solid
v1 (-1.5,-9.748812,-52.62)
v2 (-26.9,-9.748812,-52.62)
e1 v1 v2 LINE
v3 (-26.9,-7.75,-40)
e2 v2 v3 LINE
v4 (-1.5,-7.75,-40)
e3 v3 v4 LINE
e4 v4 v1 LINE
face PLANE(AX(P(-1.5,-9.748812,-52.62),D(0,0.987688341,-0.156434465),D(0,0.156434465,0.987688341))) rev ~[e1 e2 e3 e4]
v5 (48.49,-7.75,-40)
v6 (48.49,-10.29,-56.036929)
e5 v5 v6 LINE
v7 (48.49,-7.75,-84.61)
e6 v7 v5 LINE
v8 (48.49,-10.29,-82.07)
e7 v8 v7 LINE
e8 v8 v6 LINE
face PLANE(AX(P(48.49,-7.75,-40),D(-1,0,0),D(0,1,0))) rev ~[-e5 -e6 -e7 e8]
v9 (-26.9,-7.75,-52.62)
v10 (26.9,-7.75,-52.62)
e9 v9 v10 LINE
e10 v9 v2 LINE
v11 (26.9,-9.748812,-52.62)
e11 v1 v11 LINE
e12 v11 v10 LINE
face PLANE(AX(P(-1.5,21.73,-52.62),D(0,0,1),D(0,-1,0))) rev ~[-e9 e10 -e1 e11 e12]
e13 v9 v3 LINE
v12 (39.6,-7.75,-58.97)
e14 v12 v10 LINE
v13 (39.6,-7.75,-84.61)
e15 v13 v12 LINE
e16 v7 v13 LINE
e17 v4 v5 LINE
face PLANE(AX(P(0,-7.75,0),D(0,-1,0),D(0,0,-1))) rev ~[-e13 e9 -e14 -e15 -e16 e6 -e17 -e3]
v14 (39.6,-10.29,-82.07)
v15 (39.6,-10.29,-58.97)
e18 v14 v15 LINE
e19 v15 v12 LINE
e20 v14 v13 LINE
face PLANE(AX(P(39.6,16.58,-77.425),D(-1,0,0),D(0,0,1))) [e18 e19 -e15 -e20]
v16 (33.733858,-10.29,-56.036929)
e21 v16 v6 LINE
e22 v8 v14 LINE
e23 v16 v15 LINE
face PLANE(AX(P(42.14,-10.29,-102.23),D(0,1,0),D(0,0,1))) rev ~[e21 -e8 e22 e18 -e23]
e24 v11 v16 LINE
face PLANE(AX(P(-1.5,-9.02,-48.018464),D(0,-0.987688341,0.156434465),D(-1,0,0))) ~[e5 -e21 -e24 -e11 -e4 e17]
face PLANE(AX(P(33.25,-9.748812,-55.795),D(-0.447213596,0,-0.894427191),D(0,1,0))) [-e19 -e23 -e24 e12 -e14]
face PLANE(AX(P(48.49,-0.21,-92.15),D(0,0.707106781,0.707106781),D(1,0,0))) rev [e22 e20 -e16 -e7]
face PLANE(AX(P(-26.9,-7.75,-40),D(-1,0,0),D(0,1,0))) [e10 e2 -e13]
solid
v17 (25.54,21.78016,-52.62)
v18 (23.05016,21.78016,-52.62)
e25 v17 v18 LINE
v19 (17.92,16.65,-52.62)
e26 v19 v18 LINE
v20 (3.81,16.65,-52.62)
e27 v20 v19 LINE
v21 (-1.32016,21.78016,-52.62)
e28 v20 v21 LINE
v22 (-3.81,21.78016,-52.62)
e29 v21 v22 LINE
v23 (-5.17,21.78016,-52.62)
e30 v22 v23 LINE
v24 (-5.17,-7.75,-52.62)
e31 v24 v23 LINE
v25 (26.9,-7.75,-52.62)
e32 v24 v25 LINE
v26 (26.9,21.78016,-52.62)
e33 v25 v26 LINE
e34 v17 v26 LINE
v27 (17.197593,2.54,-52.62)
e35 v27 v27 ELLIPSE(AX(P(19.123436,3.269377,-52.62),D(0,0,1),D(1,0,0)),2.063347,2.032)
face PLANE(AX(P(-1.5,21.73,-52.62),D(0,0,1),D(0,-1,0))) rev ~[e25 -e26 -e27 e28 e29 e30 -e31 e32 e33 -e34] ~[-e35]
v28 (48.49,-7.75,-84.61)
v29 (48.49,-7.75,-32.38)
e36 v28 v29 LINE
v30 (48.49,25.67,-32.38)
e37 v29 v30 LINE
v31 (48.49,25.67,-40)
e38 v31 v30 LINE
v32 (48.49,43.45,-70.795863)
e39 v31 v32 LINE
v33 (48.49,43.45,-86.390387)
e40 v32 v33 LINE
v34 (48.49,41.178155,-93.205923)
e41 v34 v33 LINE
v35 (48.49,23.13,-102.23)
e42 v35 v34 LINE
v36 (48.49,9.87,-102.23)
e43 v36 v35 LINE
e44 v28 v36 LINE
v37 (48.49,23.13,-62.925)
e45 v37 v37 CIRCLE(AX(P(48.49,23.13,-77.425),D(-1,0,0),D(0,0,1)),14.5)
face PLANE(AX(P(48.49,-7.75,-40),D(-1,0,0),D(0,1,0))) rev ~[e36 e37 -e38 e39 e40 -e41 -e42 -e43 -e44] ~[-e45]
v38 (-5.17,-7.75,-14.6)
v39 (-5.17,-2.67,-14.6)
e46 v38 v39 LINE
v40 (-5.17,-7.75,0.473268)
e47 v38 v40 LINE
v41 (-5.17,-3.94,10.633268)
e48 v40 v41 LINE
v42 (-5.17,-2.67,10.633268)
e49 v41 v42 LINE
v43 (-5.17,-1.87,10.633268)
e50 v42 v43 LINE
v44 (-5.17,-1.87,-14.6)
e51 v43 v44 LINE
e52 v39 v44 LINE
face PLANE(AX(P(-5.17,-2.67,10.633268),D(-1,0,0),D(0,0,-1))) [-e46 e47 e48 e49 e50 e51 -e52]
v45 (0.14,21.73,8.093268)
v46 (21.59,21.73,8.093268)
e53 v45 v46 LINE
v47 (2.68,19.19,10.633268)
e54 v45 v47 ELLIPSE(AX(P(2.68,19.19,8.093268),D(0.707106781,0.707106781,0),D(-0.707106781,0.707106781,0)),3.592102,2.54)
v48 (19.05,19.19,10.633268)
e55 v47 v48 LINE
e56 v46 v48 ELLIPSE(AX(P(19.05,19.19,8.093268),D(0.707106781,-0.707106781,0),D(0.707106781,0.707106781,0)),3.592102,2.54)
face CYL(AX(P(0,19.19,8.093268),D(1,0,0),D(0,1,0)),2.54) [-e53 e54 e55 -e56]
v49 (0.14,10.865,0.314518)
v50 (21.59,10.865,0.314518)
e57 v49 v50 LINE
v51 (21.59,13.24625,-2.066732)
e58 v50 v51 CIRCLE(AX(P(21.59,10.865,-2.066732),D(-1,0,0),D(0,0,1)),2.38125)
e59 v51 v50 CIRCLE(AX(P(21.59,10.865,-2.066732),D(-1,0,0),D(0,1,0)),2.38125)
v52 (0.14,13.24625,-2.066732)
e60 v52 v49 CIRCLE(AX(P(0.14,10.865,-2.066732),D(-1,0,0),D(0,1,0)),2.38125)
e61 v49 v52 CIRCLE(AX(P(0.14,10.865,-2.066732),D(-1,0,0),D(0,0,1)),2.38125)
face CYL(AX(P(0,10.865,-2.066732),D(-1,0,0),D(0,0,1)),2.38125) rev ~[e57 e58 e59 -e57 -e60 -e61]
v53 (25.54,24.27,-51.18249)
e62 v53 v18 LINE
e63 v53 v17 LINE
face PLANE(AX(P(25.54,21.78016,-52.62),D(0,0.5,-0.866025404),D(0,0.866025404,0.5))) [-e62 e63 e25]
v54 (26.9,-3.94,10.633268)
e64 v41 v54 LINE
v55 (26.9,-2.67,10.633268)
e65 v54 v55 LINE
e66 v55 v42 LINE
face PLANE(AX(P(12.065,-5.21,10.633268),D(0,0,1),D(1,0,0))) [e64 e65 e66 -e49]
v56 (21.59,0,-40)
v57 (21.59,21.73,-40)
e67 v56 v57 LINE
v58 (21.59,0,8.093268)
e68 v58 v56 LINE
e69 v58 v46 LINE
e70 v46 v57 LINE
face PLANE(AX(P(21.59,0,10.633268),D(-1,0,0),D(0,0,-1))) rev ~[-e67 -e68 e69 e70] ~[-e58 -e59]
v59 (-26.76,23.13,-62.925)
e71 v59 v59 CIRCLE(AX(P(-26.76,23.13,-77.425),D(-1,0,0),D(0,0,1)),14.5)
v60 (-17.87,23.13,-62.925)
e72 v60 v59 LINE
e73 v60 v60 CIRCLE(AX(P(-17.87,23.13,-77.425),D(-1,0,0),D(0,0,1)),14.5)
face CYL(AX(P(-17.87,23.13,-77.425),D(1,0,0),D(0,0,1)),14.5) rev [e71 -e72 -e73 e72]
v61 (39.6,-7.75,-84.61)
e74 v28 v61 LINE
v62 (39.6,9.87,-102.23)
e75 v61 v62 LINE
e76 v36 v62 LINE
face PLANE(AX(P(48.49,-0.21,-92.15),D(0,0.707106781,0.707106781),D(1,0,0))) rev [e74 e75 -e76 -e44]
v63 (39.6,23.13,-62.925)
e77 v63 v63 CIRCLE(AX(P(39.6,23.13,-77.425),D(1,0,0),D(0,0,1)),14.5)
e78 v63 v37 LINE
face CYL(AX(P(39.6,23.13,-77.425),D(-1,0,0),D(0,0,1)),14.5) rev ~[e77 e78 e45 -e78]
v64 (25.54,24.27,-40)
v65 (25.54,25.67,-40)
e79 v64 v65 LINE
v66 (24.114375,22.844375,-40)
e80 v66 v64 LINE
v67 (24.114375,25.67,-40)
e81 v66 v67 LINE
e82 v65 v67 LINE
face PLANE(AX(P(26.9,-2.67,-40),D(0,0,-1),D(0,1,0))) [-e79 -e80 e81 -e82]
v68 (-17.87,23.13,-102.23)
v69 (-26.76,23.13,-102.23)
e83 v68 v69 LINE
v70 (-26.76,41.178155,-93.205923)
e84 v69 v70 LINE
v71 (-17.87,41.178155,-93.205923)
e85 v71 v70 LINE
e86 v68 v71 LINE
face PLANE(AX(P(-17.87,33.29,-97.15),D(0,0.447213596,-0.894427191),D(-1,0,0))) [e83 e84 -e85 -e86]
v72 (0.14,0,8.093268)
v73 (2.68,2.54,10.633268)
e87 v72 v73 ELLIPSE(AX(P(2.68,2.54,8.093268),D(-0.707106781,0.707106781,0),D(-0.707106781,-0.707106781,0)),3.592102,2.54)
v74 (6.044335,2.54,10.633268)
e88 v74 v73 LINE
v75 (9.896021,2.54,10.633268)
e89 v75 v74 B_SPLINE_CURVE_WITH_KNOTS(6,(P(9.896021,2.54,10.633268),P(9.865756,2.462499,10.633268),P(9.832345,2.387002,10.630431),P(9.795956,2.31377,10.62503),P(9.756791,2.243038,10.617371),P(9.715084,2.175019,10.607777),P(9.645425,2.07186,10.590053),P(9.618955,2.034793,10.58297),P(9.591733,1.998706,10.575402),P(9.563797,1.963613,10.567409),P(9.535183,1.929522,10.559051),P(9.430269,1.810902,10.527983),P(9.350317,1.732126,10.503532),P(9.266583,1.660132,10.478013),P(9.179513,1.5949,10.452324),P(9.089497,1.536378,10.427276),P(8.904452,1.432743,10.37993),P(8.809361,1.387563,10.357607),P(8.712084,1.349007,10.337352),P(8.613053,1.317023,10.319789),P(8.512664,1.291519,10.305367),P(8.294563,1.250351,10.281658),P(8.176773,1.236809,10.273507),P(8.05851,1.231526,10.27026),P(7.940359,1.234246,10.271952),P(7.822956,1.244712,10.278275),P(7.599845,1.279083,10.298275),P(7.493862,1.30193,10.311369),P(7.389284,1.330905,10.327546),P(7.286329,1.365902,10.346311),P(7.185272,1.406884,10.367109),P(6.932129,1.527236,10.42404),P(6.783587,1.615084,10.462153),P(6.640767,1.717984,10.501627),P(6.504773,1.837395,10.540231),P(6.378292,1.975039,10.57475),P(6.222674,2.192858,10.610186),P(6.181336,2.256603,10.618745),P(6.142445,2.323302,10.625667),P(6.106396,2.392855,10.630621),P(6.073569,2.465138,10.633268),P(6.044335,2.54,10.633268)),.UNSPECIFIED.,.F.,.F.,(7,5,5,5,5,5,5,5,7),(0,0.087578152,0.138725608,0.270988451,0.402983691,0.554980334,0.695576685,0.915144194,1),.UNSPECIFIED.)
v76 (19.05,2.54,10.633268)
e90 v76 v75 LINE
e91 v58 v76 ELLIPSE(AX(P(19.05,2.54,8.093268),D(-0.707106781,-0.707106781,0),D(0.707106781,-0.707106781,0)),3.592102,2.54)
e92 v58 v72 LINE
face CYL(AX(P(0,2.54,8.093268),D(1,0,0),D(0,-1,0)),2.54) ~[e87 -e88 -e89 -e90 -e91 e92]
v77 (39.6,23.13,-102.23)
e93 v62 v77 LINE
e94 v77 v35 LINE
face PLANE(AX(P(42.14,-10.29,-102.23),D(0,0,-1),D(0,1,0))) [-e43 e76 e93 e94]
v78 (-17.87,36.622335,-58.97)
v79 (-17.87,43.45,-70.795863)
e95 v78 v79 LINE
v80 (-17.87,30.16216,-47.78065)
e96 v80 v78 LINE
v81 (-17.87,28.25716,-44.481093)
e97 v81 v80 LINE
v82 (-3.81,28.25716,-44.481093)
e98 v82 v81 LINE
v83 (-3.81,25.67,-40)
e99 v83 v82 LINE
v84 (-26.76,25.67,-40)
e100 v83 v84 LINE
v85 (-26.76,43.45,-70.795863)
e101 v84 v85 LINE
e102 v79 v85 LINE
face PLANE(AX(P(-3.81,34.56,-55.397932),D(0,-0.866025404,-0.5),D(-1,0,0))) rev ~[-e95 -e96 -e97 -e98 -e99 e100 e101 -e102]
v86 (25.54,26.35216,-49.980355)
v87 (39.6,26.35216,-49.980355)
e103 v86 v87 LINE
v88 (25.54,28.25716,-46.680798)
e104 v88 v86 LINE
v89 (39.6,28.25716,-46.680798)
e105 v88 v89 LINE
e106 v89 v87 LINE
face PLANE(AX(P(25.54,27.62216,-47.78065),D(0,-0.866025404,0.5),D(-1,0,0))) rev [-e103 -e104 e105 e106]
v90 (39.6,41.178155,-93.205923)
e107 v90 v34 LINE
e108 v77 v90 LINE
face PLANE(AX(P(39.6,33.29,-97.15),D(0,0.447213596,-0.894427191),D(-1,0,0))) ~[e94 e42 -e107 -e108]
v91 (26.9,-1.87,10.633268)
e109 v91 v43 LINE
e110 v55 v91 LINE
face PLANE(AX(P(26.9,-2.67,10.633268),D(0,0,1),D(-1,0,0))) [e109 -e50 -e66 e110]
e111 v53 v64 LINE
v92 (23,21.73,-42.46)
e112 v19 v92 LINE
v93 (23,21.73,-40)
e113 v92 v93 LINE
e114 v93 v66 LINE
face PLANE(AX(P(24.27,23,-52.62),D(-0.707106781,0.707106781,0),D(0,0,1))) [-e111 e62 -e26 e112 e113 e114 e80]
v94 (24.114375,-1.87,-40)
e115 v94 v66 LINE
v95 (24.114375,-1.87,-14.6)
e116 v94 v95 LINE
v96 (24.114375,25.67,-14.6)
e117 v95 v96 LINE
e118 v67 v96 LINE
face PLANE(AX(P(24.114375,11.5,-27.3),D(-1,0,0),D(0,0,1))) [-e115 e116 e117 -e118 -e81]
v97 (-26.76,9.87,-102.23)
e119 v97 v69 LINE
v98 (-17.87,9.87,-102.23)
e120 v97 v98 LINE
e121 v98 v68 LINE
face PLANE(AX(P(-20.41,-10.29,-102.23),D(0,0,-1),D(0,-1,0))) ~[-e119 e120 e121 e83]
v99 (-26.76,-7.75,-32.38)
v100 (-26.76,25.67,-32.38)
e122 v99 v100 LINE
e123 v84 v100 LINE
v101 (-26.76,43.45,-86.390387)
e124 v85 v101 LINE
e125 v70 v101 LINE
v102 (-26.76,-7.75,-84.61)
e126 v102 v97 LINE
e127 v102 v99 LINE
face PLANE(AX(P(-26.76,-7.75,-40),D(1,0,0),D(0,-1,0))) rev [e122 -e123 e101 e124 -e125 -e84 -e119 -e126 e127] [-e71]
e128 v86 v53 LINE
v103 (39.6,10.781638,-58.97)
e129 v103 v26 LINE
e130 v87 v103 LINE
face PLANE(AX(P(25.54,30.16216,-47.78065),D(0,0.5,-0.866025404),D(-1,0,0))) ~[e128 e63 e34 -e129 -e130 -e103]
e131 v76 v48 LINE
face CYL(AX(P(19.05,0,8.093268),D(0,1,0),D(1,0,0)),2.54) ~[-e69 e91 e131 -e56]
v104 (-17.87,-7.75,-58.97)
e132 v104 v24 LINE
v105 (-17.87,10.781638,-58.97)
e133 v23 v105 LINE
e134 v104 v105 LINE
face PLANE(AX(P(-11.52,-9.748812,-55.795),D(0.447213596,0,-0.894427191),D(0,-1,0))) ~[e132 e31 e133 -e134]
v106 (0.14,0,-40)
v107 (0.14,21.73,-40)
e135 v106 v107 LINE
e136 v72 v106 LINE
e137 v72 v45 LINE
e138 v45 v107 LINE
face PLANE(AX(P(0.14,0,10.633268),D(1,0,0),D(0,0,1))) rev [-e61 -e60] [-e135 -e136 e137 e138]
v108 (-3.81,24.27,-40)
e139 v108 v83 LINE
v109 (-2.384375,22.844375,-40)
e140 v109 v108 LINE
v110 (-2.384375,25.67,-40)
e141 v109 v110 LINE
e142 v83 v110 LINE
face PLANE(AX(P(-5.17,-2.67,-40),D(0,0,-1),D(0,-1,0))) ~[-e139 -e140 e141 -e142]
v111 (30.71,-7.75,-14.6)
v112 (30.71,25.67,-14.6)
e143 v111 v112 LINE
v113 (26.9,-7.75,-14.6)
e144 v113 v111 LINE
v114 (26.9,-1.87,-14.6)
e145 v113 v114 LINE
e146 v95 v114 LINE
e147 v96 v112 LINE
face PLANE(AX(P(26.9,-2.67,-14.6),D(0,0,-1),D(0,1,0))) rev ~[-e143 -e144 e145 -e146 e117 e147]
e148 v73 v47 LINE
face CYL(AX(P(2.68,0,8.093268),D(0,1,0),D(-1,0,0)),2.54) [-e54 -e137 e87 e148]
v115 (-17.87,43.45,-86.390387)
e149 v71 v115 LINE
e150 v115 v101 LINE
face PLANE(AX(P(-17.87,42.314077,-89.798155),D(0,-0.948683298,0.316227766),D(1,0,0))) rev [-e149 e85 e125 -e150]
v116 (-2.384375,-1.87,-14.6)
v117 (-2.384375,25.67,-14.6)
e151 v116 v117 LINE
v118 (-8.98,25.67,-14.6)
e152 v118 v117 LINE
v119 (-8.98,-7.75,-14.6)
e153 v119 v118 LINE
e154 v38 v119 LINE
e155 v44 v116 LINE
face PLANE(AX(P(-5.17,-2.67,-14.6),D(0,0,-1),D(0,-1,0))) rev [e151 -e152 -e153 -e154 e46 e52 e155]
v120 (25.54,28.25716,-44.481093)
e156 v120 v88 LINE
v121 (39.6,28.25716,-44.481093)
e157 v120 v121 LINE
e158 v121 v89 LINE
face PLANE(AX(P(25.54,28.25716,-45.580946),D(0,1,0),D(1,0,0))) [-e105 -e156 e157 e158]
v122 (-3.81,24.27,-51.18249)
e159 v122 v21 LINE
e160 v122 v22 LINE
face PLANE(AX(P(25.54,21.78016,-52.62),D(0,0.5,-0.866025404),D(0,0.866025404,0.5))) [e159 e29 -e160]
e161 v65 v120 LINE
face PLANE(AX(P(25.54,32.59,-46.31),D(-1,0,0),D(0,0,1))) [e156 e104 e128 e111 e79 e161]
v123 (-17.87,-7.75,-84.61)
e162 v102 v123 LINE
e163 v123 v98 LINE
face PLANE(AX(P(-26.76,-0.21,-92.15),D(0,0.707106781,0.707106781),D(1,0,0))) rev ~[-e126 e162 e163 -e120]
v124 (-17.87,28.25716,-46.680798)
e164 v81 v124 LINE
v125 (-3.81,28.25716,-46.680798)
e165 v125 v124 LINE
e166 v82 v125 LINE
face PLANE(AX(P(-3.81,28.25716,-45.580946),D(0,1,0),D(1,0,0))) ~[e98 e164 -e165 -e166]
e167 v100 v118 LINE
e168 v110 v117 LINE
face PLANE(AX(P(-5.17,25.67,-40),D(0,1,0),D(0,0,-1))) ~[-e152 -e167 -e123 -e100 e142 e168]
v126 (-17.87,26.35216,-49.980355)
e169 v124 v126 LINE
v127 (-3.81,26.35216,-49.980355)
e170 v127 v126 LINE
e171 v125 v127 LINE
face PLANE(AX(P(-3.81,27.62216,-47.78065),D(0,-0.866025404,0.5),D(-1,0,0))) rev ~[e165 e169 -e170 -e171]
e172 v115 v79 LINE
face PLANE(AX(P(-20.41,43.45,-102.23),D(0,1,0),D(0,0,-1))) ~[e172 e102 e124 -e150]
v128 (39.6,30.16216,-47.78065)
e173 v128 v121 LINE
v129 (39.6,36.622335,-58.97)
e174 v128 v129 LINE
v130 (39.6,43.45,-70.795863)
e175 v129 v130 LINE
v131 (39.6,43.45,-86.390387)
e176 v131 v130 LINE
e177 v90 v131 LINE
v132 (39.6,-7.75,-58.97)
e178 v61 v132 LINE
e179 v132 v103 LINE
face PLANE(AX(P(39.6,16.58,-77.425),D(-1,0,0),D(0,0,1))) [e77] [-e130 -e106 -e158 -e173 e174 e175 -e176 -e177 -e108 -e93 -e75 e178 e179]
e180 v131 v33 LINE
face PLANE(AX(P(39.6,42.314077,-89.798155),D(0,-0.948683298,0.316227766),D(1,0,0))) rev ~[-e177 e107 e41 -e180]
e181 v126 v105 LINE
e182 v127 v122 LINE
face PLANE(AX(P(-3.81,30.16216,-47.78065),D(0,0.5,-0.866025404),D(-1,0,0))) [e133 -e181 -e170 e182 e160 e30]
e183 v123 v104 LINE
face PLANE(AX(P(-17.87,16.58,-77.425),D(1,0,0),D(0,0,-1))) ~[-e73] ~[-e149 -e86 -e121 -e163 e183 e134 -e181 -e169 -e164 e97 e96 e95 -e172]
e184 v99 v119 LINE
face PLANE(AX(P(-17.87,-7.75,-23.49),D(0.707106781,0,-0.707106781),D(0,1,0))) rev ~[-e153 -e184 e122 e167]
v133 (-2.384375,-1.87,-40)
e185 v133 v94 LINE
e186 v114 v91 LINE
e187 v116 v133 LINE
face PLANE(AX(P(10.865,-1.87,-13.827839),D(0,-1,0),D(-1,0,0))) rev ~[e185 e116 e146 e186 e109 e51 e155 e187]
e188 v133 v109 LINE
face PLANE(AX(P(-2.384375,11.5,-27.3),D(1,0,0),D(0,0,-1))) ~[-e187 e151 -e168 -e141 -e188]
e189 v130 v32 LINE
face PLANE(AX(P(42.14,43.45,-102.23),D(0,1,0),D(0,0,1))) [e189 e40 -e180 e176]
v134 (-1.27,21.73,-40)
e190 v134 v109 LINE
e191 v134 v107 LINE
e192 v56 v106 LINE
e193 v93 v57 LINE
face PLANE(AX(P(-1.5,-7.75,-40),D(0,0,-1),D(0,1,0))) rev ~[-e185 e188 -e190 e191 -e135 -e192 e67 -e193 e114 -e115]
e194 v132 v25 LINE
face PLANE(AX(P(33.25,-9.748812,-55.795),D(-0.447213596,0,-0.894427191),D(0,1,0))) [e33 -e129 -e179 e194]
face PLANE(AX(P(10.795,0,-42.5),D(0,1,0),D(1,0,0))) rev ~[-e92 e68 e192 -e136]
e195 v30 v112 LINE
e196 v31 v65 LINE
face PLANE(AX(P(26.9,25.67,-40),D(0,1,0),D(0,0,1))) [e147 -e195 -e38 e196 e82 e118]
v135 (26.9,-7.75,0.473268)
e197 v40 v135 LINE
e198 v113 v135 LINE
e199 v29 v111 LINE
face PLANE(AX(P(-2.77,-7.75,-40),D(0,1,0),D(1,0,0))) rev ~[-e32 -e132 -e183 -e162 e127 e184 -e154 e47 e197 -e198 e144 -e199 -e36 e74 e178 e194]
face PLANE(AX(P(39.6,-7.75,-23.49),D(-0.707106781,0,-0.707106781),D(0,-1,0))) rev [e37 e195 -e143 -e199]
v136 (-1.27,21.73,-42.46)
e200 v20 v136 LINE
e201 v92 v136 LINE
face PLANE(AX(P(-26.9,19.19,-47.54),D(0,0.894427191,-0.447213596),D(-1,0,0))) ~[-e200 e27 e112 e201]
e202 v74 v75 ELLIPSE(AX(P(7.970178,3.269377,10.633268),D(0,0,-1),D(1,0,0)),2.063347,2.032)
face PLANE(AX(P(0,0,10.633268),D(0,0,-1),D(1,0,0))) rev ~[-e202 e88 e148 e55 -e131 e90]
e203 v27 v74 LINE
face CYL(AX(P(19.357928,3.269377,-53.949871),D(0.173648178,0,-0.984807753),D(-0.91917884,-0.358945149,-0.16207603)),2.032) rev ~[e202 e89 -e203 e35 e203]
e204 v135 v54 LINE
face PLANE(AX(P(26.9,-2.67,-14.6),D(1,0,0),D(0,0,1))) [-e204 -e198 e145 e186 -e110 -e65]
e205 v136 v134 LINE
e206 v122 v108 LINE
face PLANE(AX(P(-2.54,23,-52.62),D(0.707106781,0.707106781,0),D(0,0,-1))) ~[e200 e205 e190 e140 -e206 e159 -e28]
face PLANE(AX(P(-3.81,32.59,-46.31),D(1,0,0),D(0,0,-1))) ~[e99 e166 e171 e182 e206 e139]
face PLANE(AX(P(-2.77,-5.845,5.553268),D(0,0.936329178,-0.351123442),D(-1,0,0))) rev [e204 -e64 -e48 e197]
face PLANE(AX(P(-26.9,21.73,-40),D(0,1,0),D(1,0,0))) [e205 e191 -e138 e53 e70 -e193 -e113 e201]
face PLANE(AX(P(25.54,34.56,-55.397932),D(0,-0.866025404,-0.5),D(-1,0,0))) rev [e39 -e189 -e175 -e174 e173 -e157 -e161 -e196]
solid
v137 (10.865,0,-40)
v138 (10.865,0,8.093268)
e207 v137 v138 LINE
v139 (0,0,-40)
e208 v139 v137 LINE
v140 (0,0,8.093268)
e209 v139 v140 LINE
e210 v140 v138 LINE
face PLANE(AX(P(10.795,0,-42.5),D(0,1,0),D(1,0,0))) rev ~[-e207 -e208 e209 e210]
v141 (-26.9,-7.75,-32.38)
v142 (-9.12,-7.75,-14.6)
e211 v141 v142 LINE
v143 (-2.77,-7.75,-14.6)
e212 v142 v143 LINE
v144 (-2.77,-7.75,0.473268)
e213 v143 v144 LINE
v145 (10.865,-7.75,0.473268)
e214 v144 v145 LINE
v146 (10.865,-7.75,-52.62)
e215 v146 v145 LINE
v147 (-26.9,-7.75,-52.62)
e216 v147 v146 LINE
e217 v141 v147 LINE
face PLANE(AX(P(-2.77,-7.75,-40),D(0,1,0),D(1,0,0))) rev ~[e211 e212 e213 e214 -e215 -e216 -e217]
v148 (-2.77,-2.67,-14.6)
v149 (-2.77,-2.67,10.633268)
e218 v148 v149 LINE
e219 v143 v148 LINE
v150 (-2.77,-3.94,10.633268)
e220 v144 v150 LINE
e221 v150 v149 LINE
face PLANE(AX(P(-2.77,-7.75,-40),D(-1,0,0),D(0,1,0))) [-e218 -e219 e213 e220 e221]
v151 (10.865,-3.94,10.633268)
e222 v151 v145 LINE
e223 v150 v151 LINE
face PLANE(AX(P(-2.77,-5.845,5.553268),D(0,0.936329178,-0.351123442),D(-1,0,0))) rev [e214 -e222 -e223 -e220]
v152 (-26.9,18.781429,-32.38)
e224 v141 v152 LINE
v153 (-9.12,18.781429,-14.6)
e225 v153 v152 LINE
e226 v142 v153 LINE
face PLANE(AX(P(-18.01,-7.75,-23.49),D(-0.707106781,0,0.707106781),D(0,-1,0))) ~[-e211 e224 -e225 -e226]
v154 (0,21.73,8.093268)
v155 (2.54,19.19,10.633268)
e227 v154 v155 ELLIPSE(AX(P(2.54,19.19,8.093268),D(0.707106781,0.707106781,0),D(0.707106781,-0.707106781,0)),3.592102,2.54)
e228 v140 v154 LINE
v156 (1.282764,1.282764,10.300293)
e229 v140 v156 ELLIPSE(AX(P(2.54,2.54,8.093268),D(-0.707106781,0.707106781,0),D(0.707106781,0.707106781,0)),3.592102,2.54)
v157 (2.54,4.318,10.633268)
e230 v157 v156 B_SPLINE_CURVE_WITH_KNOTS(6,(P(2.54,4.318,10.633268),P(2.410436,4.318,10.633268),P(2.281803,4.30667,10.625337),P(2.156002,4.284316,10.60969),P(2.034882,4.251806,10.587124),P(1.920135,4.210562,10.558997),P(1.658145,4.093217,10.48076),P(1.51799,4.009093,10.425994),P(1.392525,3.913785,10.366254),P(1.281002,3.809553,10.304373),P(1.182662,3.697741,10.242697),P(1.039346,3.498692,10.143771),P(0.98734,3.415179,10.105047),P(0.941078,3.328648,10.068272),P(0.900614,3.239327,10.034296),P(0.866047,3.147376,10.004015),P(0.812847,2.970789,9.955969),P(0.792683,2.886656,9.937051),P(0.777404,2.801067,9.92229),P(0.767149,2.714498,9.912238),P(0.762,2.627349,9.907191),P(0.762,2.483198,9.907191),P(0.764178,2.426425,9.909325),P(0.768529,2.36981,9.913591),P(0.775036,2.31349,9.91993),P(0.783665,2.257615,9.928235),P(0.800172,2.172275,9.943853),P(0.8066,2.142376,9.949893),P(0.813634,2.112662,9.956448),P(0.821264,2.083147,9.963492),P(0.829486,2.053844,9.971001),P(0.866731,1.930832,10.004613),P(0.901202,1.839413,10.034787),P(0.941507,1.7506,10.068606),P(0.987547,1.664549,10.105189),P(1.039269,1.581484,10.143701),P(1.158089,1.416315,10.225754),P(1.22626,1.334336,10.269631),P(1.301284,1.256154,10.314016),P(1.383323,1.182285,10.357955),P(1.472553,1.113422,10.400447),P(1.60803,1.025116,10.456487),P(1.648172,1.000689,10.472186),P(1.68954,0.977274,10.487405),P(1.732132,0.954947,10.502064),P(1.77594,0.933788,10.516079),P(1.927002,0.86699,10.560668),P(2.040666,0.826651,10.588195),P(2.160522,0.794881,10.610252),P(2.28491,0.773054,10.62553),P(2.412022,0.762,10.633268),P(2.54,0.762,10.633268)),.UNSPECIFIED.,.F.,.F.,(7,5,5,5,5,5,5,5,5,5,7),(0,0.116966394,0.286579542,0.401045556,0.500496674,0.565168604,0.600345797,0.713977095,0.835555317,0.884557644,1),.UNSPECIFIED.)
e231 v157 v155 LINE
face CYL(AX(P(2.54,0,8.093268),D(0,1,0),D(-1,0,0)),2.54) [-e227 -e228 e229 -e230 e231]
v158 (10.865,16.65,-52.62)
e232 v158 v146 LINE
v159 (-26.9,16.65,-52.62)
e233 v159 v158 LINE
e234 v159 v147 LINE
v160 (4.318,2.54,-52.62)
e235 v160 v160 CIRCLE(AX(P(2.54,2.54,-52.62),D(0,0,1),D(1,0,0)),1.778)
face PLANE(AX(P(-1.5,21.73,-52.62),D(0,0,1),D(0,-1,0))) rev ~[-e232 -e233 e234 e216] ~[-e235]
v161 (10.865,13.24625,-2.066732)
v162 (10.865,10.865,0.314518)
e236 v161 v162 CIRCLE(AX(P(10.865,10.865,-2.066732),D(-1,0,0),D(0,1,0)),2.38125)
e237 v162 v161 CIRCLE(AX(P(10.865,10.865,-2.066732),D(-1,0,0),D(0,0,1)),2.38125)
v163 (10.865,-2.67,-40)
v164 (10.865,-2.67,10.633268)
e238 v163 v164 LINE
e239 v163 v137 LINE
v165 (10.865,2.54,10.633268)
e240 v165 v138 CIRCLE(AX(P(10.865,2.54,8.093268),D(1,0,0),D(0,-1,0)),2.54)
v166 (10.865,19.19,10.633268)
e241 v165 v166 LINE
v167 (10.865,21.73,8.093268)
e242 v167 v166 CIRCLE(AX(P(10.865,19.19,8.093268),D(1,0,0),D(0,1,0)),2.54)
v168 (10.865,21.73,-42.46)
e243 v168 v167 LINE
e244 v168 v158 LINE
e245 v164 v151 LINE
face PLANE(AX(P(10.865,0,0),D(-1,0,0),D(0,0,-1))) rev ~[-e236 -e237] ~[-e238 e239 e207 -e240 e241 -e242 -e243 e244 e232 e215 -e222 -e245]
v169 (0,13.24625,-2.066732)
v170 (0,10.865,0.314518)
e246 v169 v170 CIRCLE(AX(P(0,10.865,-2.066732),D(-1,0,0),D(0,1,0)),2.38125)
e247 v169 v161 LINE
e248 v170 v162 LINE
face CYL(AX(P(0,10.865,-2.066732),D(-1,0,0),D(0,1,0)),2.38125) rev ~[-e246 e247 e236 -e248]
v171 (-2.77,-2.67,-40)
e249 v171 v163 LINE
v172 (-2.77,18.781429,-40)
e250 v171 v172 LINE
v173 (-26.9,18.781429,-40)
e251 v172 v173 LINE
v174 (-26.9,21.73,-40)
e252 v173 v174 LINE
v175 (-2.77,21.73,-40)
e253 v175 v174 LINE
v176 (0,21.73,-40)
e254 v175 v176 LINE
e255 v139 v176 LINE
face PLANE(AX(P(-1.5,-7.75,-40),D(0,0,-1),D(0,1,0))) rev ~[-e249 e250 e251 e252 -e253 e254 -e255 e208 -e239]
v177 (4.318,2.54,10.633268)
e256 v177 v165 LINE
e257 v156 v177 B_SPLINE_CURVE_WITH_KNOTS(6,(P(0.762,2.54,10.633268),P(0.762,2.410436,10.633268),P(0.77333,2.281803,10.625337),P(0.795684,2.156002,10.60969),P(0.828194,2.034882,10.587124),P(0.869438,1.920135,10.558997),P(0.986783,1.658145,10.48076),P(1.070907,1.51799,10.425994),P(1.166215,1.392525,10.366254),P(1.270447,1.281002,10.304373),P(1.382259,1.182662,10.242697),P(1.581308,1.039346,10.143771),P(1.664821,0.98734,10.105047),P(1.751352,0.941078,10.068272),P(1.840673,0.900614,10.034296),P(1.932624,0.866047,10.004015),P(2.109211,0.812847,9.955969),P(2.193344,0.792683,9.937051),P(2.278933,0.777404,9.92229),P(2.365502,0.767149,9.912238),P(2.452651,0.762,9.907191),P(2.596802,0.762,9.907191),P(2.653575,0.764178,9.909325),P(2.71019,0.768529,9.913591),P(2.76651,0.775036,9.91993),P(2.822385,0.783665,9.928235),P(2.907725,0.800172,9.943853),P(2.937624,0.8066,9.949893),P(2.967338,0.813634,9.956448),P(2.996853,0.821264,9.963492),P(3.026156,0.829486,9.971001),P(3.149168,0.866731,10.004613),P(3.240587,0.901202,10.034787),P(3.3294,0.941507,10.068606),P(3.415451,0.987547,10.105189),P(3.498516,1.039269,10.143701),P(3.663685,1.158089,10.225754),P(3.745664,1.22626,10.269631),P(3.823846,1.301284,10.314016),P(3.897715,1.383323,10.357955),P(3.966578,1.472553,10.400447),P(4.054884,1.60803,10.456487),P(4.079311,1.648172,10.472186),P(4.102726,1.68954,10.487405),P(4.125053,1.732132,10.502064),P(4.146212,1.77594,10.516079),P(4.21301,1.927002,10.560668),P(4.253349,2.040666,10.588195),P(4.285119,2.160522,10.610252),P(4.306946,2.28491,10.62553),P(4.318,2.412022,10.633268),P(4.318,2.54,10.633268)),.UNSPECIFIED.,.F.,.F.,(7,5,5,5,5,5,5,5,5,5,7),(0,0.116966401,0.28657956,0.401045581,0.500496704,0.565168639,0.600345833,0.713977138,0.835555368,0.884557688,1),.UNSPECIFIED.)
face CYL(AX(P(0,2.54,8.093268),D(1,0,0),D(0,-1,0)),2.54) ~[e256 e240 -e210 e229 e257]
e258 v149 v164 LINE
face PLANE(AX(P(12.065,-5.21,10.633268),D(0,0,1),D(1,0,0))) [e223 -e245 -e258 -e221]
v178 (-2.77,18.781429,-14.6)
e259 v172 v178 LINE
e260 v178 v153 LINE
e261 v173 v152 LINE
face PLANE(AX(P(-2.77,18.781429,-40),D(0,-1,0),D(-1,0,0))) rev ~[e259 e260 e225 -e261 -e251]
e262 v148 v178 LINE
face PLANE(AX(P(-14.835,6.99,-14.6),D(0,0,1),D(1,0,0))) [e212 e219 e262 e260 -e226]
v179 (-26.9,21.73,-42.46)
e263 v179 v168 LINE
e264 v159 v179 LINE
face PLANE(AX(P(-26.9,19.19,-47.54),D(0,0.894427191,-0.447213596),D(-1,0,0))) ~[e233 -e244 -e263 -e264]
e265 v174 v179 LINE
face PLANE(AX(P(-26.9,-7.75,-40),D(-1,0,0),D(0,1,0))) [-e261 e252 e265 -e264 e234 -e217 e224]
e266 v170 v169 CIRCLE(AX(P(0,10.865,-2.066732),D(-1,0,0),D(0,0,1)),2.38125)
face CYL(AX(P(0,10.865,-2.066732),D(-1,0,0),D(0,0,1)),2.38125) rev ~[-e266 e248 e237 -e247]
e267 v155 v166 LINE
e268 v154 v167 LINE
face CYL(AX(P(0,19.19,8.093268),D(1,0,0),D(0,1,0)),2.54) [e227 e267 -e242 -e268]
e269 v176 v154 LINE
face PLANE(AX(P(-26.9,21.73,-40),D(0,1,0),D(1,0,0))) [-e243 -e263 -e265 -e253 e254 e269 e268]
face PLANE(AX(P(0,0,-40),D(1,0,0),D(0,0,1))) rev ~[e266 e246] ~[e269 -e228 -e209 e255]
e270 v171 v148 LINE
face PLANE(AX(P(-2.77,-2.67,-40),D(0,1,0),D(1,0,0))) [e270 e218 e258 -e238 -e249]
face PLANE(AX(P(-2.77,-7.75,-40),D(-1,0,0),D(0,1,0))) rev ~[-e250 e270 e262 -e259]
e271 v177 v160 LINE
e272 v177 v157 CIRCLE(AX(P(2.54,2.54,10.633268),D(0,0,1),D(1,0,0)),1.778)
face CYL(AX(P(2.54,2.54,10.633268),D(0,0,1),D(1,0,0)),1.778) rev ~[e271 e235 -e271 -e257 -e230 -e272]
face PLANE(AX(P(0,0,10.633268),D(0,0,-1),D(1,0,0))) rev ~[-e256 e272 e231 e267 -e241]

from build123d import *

# Parameters (mm, degrees)
BOSS_EXTRUDE1_DEPTH      = 21.73
BOSS_EXTRUDE2_DEPTH      = 23.229999974
BOSS_EXTRUDE2_DEPTH_BACK = 1.5
SKETCH2_W                = 19.05
SKETCH2_H                = 24.729999974
BOSS_EXTRUDE3_DEPTH      = 25.4
SKETCH3_W                = 6.35
SKETCH3_H                = 24.729999974
BOSS_EXTRUDE4_DEPTH      = 43.18
SKETCH4_W                = 19.05
SKETCH4_H                = 24.729999974
CUT_EXTRUDE1_DEPTH       = 14.05
SKETCH5_W                = 43.64
SKETCH5_H                = 24.729999974
BOSS_EXTRUDE5_DEPTH      = 7.62
BOSS_EXTRUDE6_DEPTH      = 8.789999946
BOSS_EXTRUDE7_DEPTH      = 20.219999946
SKETCH9_W                = 49.61
SKETCH9_H                = 53.739999866
BOSS_EXTRUDE8_DEPTH      = 2.54
SKETCH10_R               = 14.5
CUT_EXTRUDE2_DEPTH       = 44.704
FILLET3_R                = 2.54
CHAMFER1_SIZE            = 20.16
CHAMFER2_SIZE            = 20.32
CHAMFER2_SIZE2           = 10.16
SKETCH12_W               = 23.23
SKETCH12_H               = 21.71999992
CUT_EXTRUDE4_DEPTH       = 23.114
SKETCH13_W               = 12.62
SKETCH13_H               = 21.71999992
CUT_EXTRUDE5_DEPTH       = 3.81
CHAMFER4_SIZE            = 2.54
CHAMFER7_SIZE            = 17.78
CHAMFER7_SIZE2           = 30.795863359
CHAMFER8_SIZE            = 2.54
CHAMFER8_SIZE2           = 16.036928847
CHAMFER10_SIZE           = 12.7
CHAMFER10_SIZE2          = 6.35
SKETCH16_W               = 21.59
SKETCH16_H               = 33.419999866
BOSS_EXTRUDE9_DEPTH      = 25.4
BOSS_EXTRUDE10_DEPTH     = 25.4
CHAMFER12_SIZE           = 5.08
CHAMFER12_SIZE2          = 10.16
CHAMFER13_SIZE           = 2.54
CHAMFER13_SIZE2          = 5.679612663
SKETCH18_W               = 24.13
SKETCH18_H               = 29.479999946
BOSS_EXTRUDE11_DEPTH     = 25.4
SKETCH11_R               = 1.778
CUT_EXTRUDE9_DEPTH       = 131.296968124
CHAMFER14_SIZE           = 17.78
SKETCH19_W               = 29.67
SKETCH19_H               = 5.08
BOSS_EXTRUDE12_DEPTH     = 50.633268
CHAMFER15_SIZE           = 10.16
CHAMFER15_SIZE2          = 3.81
CUT_EXTRUDE10_DEPTH      = 122.202951668
CUT_EXTRUDE11_REACH      = 92.065
SKETCH21_W               = 24.13
SKETCH21_H               = 2.948571429
CUT_EXTRUDE13_DEPTH      = 26.67
CUT_EXTRUDE14_DEPTH      = 31.496
CHAMFER17_SIZE           = 2.54
CHAMFER17_SIZE2          = 4.399409051
CHAMFER18_SIZE           = 2.54
CHAMFER18_SIZE2          = 4.399409051
CHAMFER19_SIZE           = 1.27
SKETCH26_W               = 25.4
SKETCH26_H               = 28.339999866
BOSS_EXTRUDE13_DEPTH     = 2.785625036
BOSS_EXTRUDE14_DEPTH     = 0.8
SKETCH30_R               = 2.032
CUT_EXTRUDE16_DEPTH      = 89.17795503


with BuildPart() as part:
    # Sketch1 → Boss-Extrude1 (new body)
    with BuildSketch(Plane(origin=(0, 0, 0), x_dir=(1, 0, 0), z_dir=(0, 1, 0))):
        Polygon((-1.5, 40), (0, 40), (21.59, 40), (23.09, 40), (23.09, 45), (-1.5, 45), align=None)
        Polygon((0, 40), (0, 0), (0, -10.633268202), (21.59, -10.633268202), (21.59, 0), (21.59, 40), align=None)
    extrude(amount=BOSS_EXTRUDE1_DEPTH)

    # Sketch1<4> → Boss-Extrude2 (add, two sides)
    with BuildSketch(Plane(origin=(0, 0, 0), x_dir=(1, 0, 0), z_dir=(0, 1, 0))) as boss_extrude2_sk:
        Polygon((-1.5, 40), (0, 40), (21.59, 40), (23.09, 40), (23.09, 45), (-1.5, 45), align=None)
    extrude(amount=BOSS_EXTRUDE2_DEPTH)
    extrude(boss_extrude2_sk.sketch, amount=-BOSS_EXTRUDE2_DEPTH_BACK)

    # Sketch2 → Boss-Extrude3 (add)
    with BuildSketch(Plane(origin=(23.09, 0, 0), x_dir=(0, 0, -1), z_dir=(1, 0, 0))):
        with Locations((49.525, 10.864999987)):
            Rectangle(SKETCH2_W, SKETCH2_H)
    extrude(amount=BOSS_EXTRUDE3_DEPTH)

    # Sketch3 → Boss-Extrude4 (add)
    with BuildSketch(Plane(origin=(0, 0, -59.05), x_dir=(-1, 0, 0), z_dir=(0, 0, -1))):
        with Locations((-45.315, 10.864999987)):
            Rectangle(SKETCH3_W, SKETCH3_H)
    extrude(amount=BOSS_EXTRUDE4_DEPTH)

    # Sketch4 → Cut-Extrude1 (cut)
    with BuildSketch(Plane(origin=(0, 0, -59.05), x_dir=(-1, 0, 0), z_dir=(0, 0, -1))):
        with Locations((-32.615, 10.864999987)):
            Rectangle(SKETCH4_W, SKETCH4_H)
    extrude(amount=-CUT_EXTRUDE1_DEPTH, mode=Mode.SUBTRACT)

    # Sketch5 → Boss-Extrude5 (add)
    with BuildSketch(Plane(origin=(0, 0, -45), x_dir=(-1, 0, 0), z_dir=(0, 0, -1))):
        with Locations((-20.32, 10.864999987)):
            Rectangle(SKETCH5_W, SKETCH5_H)
    extrude(amount=BOSS_EXTRUDE5_DEPTH)

    # Sketch6 → Boss-Extrude6 (add)
    with BuildSketch(Plane.XZ.offset(1.5)):
        Polygon((-1.5, -40), (48.49, -40), (48.49, -46.27), (48.49, -102.23), (42.14, -102.23), (42.14, -52.62), (-1.5, -52.62), align=None)
    extrude(amount=BOSS_EXTRUDE6_DEPTH)

    # Sketch7 → Boss-Extrude7 (add)
    with BuildSketch(Plane(origin=(0, 23.229999974, 0), x_dir=(1, 0, 0), z_dir=(0, 1, 0))):
        Polygon((-1.5, 40), (48.49, 40), (48.49, 46.27), (48.49, 102.23), (42.14, 102.23), (42.14, 52.62), (-1.5, 52.62), align=None)
    extrude(amount=BOSS_EXTRUDE7_DEPTH)

    # Sketch9 → Boss-Extrude8 (add)
    with BuildSketch(Plane.ZY.offset(-42.14)):
        with Locations((-77.425, 16.579999987)):
            Rectangle(SKETCH9_W, SKETCH9_H)
    extrude(amount=BOSS_EXTRUDE8_DEPTH)

    # Sketch10 → Cut-Extrude2 (cut)
    with BuildSketch(Plane.ZY.offset(-39.6)):
        with Locations((-77.425, 23.12999992)):
            Circle(SKETCH10_R)
    extrude(amount=-CUT_EXTRUDE2_DEPTH, mode=Mode.SUBTRACT)

    # Fillet3
    fillet3_edges = [part.edges().sort_by_distance(p)[0] for p in [
        (10.795, 0, 10.633268202),
        (10.795, 21.73, 10.633268202),
        (21.59, 10.865, 10.633268202),
        (0, 10.865, 10.633268202),
    ]]
    fillet(fillet3_edges, radius=FILLET3_R)

    # Chamfer1
    chamfer1_edges = [part.edges().sort_by_distance(p)[0] for p in [
        (44.045, -10.289999946, -102.23),
    ]]
    chamfer(chamfer1_edges, length=CHAMFER1_SIZE)

    # Chamfer2
    chamfer2_edges = [part.edges().sort_by_distance(p)[0] for p in [
        (44.045, 43.44999992, -102.23),
    ]]
    chamfer2_side = [part.faces().sort_by_distance(p)[0] for p in [
        (44.045, 26.659999987, -102.23),
    ]]
    chamfer(chamfer2_edges, length=CHAMFER2_SIZE, length2=CHAMFER2_SIZE2, reference=chamfer2_side[0])

    # Sketch12 → Cut-Extrude4 (cut)
    with BuildSketch(Plane.XY.offset(-40)):
        with Locations((10.115, 32.58999996)):
            Rectangle(SKETCH12_W, SKETCH12_H)
    extrude(amount=-CUT_EXTRUDE4_DEPTH, mode=Mode.SUBTRACT)

    # Sketch13 → Cut-Extrude5 (cut)
    with BuildSketch(Plane.ZY.offset(-21.73)):
        with Locations((-46.31, 32.58999996)):
            Rectangle(SKETCH13_W, SKETCH13_H)
    extrude(amount=-CUT_EXTRUDE5_DEPTH, mode=Mode.SUBTRACT)

    # Chamfer4
    chamfer4_edges = [part.edges().sort_by_distance(p)[0] for p in [
        (25.54, 21.73, -46.31),
    ]]
    chamfer(chamfer4_edges, length=CHAMFER4_SIZE)

    # Chamfer7
    chamfer7_edges = [part.edges().sort_by_distance(p)[0] for p in [
        (37.015, 43.44999992, -40),
    ]]
    chamfer7_side = [part.faces().sort_by_distance(p)[0] for p in [
        (31.271893958, 12.476304807, -40),
    ]]
    chamfer(chamfer7_edges, length=CHAMFER7_SIZE, length2=CHAMFER7_SIZE2, reference=chamfer7_side[0])

    # Chamfer8
    chamfer8_edges = [part.edges().sort_by_distance(p)[0] for p in [
        (23.495, -10.289999946, -40),
    ]]
    chamfer8_side = [part.faces().sort_by_distance(p)[0] for p in [
        (29.3591267, 5.121230979, -40),
    ]]
    chamfer(chamfer8_edges, length=CHAMFER8_SIZE, length2=CHAMFER8_SIZE2, reference=chamfer8_side[0])

    # Chamfer10
    chamfer10_edges = [part.edges().sort_by_distance(p)[0] for p in [
        (39.6, 11.603674367, -52.62),
    ]]
    chamfer10_side = [part.faces().sort_by_distance(p)[0] for p in [
        (20.529332087, 8.343955773, -52.62),
    ]]
    chamfer(chamfer10_edges, length=CHAMFER10_SIZE, length2=CHAMFER10_SIZE2, reference=chamfer10_side[0])

    # Sketch16 → Boss-Extrude9 (add)
    with BuildSketch(Plane.XY.offset(-40)):
        with Locations((37.695, 8.959999987)):
            Rectangle(SKETCH16_W, SKETCH16_H)
    extrude(amount=BOSS_EXTRUDE9_DEPTH)

    # Sketch17 → Boss-Extrude10 (add)
    with BuildSketch(Plane.ZY.offset(1.5)):
        Polygon((-52.62, 21.73), (-52.62, -9.748811583), (-40, -7.749999946), (-40, 21.73), align=None)
    extrude(amount=BOSS_EXTRUDE10_DEPTH)

    # Chamfer12
    chamfer12_edges = [part.edges().sort_by_distance(p)[0] for p in [
        (-1.95, 21.73, -52.62),
    ]]
    chamfer12_side = [part.faces().sort_by_distance(p)[0] for p in [
        (0.280348521, 6.212260244, -52.62),
    ]]
    chamfer(chamfer12_edges, length=CHAMFER12_SIZE, length2=CHAMFER12_SIZE2, reference=chamfer12_side[0])

    # Chamfer13
    chamfer13_edges = [part.edges().sort_by_distance(p)[0] for p in [
        (44.045, 43.44999992, -92.07),
    ]]
    chamfer13_side = [part.faces().sort_by_distance(p)[0] for p in [
        (44.045, 33.28999992, -97.15),
    ]]
    chamfer(chamfer13_edges, length=CHAMFER13_SIZE, length2=CHAMFER13_SIZE2, reference=chamfer13_side[0])

    # Sketch18 → Boss-Extrude11 (add)
    with BuildSketch(Plane.XY.offset(-40)):
        with Locations((-14.835, 6.990000027)):
            Rectangle(SKETCH18_W, SKETCH18_H)
    extrude(amount=BOSS_EXTRUDE11_DEPTH)

    # Sketch11 → Cut-Extrude9 (cut, through all)
    with BuildSketch(Plane.XY.offset(10.633268202)):
        with Locations((2.54, 2.54)):
            Circle(SKETCH11_R)
    extrude(amount=-CUT_EXTRUDE9_DEPTH, mode=Mode.SUBTRACT)

    # Chamfer14
    chamfer14_edges = [part.edges().sort_by_distance(p)[0] for p in [
        (48.49, 8.959999987, -14.6),
        (-26.9, 6.990000027, -14.6),
    ]]
    chamfer(chamfer14_edges, length=CHAMFER14_SIZE)

    # Sketch19 → Boss-Extrude12 (add, through all)
    with BuildSketch(Plane.XY.offset(-40)):
        with Locations((12.065, -5.209999946)):
            Rectangle(SKETCH19_W, SKETCH19_H)
    extrude(amount=BOSS_EXTRUDE12_DEPTH)

    # Chamfer15
    chamfer15_edges = [part.edges().sort_by_distance(p)[0] for p in [
        (12.065, -7.749999946, 10.633268),
    ]]
    chamfer15_side = [part.faces().sort_by_distance(p)[0] for p in [
        (11.2000407, -7.749999946, -20.137931454),
    ]]
    chamfer(chamfer15_edges, length=CHAMFER15_SIZE, length2=CHAMFER15_SIZE2, reference=chamfer15_side[0])

    # Sketch20 → Cut-Extrude10 (cut, through all)
    with BuildSketch(Plane.ZY):
        with BuildLine():
            ThreePointArc((0.314518202, 10.865), (-0.382933775, 12.548798023), (-2.066731798, 13.24625))
            Line((-2.066731798, 13.24625), (-2.066731798, 10.865))
            Line((-2.066731798, 10.865), (0.314518202, 10.865))
        make_face()
        with BuildLine():
            Line((-2.066731798, 10.865), (-2.066731798, 13.24625))
            ThreePointArc((-2.066731798, 13.24625), (-3.750529821, 9.181201977), (0.314518202, 10.865))
            Line((0.314518202, 10.865), (-2.066731798, 10.865))
        make_face()
    extrude(amount=-CUT_EXTRUDE10_DEPTH, mode=Mode.SUBTRACT)

    # Cut-Extrude11: up to this face of the body (flat: up to its plane)
    cut_extrude11_end = Plane(part.part.faces().sort_by_distance((-5.945, 6.990000027, -14.6))[0])
    # Sketch21 → Cut-Extrude11 (cut, up to the picked face)
    with BuildSketch(Plane(origin=(0, 0, -40), x_dir=(-1, 0, 0), z_dir=(0, 0, -1)), mode=Mode.PRIVATE) as cut_extrude11_sk1:
        with Locations((14.835, 20.255714286)):
            Rectangle(SKETCH21_W, SKETCH21_H)
    cut_extrude11_tool1 = split(extrude(cut_extrude11_sk1.sketch, amount=-CUT_EXTRUDE11_REACH, mode=Mode.PRIVATE), bisect_by=cut_extrude11_end, keep=Keep.BOTH, mode=Mode.PRIVATE)
    add(cut_extrude11_tool1.solids().sort_by(Axis((-14.835, 20.255714, -40), (0, 0, 1)))[0], mode=Mode.SUBTRACT)


with BuildPart() as body_2:
    # Split1: the piece on the far side of the plane
    add(part.part)
    split(bisect_by=Plane(origin=(0, -7.749999946, 0), x_dir=(0, 0, -1), z_dir=(0, -1, 0)), keep=Keep.BOTTOM)


with BuildPart() as part_1:
    add(part.part)

    # Split1
    split(bisect_by=Plane(origin=(0, -7.749999946, 0), x_dir=(0, 0, -1), z_dir=(0, -1, 0)), keep=Keep.TOP)


with BuildPart() as body_3:
    # Split2: the piece on the far side of the plane
    add(body_2.part)
    split(bisect_by=Plane(origin=(10.865000114, 0, 0), x_dir=(0, 0, -1), z_dir=(-1, 0, 0)), keep=Keep.BOTTOM)


with BuildPart() as body_2_1:
    add(body_2.part)

    # Split2
    split(bisect_by=Plane(origin=(10.865000114, 0, 0), x_dir=(0, 0, -1), z_dir=(-1, 0, 0)), keep=Keep.TOP)


with BuildPart() as body_4:
    # Mirror2: mirrored copy
    add(body_3.part.mirror(Plane.ZY.offset(-10.865000114)))

    # Combine1: union body 3
    add(body_3.part)

    # Sketch24 → Cut-Extrude13 (cut)
    with BuildSketch(Plane(origin=(0, 1.931991864, 1.115436023), x_dir=(1, 0, 0), z_dir=(0, 0.8660254037844406, 0.4999999999999968))):
        Polygon((-3.809999772, 62.048336906), (-3.809999772, 56.460336906), (-17.869999772, 56.460336906), (-17.869999772, 69.380685324), (-5.169999772, 62.048336906), align=None)
    cut_extrude13 = extrude(amount=-CUT_EXTRUDE13_DEPTH, mode=Mode.SUBTRACT)

    # Mirror3: Cut-Extrude13 across plane
    add(cut_extrude13.mirror(Plane.ZY.offset(-10.865000114)), mode=Mode.SUBTRACT)

    # Sketch25 → Cut-Extrude14 (cut)
    with BuildSketch(Plane(origin=(25.54, 0, 0), x_dir=(0, 0, -1), z_dir=(1, 0, 0))):
        Polygon((52.62, 21.780160317), (51.182490389, 24.27), (52.62, 24.27), align=None)
    extrude(amount=-CUT_EXTRUDE14_DEPTH, mode=Mode.SUBTRACT)

    # Chamfer17
    chamfer17_edges = [body_4.edges().sort_by_distance(p)[0] for p in [
        (32.57, 30.162160317, -47.780650044),
    ]]
    chamfer17_side = [body_4.faces().sort_by_distance(p)[0] for p in [
        (40.768870369, 32.663150898, -52.112492799),
    ]]
    chamfer(chamfer17_edges, length=CHAMFER17_SIZE, length2=CHAMFER17_SIZE2, reference=chamfer17_side[0])

    # Chamfer18
    chamfer18_edges = [body_4.edges().sort_by_distance(p)[0] for p in [
        (-10.839999772, 30.162160317, -47.780650044),
    ]]
    chamfer18_side = [body_4.faces().sort_by_distance(p)[0] for p in [
        (-19.038870141, 32.663150898, -52.112492799),
    ]]
    chamfer(chamfer18_edges, length=CHAMFER18_SIZE, length2=CHAMFER18_SIZE2, reference=chamfer18_side[0])

    # Chamfer19
    chamfer19_edges = [body_4.edges().sort_by_distance(p)[0] for p in [
        (32.57, 28.892160317, -45.580945518),
        (-10.839999772, 28.892160317, -45.580945518),
    ]]
    chamfer(chamfer19_edges, length=CHAMFER19_SIZE)

    # Sketch26 → Boss-Extrude13 (add)
    with BuildSketch(Plane.ZY.offset(-26.9)):
        with Locations((-27.3, 11.499999987)):
            Rectangle(SKETCH26_W, SKETCH26_H)
    boss_extrude13 = extrude(amount=BOSS_EXTRUDE13_DEPTH)

    # Mirror4: Boss-Extrude13 across plane
    add(boss_extrude13.mirror(Plane.ZY.offset(-10.865000162)))

    # Sketch27 → Boss-Extrude14 (add)
    with BuildSketch(Plane(origin=(0, -2.669999946, 0), x_dir=(1, 0, 0), z_dir=(0, 1, 0))):
        Polygon((24.114374964, 14.6), (26.9, 14.6), (26.9, -10.633268202), (-5.169999676, -10.633268202), (-5.169999676, 14.6), (-2.38437464, 14.6), (-2.38437464, 40), (24.114374964, 40), align=None)
    extrude(amount=BOSS_EXTRUDE14_DEPTH)

    # Sketch30 → Cut-Extrude16 (cut, through all)
    with BuildSketch(Plane(origin=(9.809684221, 0, -55.633483781), x_dir=(0, -1, 0), z_dir=(0.17364817766693072, 0, -0.984807753012208))):
        with Locations(Location((-3.269376543, -9.695540697, 0), (0, 0, 68.96457184))):
            Circle(SKETCH30_R)
    extrude(amount=-CUT_EXTRUDE16_DEPTH, mode=Mode.SUBTRACT)


solid = Compound([part_1.part, body_2_1.part, body_4.part])
